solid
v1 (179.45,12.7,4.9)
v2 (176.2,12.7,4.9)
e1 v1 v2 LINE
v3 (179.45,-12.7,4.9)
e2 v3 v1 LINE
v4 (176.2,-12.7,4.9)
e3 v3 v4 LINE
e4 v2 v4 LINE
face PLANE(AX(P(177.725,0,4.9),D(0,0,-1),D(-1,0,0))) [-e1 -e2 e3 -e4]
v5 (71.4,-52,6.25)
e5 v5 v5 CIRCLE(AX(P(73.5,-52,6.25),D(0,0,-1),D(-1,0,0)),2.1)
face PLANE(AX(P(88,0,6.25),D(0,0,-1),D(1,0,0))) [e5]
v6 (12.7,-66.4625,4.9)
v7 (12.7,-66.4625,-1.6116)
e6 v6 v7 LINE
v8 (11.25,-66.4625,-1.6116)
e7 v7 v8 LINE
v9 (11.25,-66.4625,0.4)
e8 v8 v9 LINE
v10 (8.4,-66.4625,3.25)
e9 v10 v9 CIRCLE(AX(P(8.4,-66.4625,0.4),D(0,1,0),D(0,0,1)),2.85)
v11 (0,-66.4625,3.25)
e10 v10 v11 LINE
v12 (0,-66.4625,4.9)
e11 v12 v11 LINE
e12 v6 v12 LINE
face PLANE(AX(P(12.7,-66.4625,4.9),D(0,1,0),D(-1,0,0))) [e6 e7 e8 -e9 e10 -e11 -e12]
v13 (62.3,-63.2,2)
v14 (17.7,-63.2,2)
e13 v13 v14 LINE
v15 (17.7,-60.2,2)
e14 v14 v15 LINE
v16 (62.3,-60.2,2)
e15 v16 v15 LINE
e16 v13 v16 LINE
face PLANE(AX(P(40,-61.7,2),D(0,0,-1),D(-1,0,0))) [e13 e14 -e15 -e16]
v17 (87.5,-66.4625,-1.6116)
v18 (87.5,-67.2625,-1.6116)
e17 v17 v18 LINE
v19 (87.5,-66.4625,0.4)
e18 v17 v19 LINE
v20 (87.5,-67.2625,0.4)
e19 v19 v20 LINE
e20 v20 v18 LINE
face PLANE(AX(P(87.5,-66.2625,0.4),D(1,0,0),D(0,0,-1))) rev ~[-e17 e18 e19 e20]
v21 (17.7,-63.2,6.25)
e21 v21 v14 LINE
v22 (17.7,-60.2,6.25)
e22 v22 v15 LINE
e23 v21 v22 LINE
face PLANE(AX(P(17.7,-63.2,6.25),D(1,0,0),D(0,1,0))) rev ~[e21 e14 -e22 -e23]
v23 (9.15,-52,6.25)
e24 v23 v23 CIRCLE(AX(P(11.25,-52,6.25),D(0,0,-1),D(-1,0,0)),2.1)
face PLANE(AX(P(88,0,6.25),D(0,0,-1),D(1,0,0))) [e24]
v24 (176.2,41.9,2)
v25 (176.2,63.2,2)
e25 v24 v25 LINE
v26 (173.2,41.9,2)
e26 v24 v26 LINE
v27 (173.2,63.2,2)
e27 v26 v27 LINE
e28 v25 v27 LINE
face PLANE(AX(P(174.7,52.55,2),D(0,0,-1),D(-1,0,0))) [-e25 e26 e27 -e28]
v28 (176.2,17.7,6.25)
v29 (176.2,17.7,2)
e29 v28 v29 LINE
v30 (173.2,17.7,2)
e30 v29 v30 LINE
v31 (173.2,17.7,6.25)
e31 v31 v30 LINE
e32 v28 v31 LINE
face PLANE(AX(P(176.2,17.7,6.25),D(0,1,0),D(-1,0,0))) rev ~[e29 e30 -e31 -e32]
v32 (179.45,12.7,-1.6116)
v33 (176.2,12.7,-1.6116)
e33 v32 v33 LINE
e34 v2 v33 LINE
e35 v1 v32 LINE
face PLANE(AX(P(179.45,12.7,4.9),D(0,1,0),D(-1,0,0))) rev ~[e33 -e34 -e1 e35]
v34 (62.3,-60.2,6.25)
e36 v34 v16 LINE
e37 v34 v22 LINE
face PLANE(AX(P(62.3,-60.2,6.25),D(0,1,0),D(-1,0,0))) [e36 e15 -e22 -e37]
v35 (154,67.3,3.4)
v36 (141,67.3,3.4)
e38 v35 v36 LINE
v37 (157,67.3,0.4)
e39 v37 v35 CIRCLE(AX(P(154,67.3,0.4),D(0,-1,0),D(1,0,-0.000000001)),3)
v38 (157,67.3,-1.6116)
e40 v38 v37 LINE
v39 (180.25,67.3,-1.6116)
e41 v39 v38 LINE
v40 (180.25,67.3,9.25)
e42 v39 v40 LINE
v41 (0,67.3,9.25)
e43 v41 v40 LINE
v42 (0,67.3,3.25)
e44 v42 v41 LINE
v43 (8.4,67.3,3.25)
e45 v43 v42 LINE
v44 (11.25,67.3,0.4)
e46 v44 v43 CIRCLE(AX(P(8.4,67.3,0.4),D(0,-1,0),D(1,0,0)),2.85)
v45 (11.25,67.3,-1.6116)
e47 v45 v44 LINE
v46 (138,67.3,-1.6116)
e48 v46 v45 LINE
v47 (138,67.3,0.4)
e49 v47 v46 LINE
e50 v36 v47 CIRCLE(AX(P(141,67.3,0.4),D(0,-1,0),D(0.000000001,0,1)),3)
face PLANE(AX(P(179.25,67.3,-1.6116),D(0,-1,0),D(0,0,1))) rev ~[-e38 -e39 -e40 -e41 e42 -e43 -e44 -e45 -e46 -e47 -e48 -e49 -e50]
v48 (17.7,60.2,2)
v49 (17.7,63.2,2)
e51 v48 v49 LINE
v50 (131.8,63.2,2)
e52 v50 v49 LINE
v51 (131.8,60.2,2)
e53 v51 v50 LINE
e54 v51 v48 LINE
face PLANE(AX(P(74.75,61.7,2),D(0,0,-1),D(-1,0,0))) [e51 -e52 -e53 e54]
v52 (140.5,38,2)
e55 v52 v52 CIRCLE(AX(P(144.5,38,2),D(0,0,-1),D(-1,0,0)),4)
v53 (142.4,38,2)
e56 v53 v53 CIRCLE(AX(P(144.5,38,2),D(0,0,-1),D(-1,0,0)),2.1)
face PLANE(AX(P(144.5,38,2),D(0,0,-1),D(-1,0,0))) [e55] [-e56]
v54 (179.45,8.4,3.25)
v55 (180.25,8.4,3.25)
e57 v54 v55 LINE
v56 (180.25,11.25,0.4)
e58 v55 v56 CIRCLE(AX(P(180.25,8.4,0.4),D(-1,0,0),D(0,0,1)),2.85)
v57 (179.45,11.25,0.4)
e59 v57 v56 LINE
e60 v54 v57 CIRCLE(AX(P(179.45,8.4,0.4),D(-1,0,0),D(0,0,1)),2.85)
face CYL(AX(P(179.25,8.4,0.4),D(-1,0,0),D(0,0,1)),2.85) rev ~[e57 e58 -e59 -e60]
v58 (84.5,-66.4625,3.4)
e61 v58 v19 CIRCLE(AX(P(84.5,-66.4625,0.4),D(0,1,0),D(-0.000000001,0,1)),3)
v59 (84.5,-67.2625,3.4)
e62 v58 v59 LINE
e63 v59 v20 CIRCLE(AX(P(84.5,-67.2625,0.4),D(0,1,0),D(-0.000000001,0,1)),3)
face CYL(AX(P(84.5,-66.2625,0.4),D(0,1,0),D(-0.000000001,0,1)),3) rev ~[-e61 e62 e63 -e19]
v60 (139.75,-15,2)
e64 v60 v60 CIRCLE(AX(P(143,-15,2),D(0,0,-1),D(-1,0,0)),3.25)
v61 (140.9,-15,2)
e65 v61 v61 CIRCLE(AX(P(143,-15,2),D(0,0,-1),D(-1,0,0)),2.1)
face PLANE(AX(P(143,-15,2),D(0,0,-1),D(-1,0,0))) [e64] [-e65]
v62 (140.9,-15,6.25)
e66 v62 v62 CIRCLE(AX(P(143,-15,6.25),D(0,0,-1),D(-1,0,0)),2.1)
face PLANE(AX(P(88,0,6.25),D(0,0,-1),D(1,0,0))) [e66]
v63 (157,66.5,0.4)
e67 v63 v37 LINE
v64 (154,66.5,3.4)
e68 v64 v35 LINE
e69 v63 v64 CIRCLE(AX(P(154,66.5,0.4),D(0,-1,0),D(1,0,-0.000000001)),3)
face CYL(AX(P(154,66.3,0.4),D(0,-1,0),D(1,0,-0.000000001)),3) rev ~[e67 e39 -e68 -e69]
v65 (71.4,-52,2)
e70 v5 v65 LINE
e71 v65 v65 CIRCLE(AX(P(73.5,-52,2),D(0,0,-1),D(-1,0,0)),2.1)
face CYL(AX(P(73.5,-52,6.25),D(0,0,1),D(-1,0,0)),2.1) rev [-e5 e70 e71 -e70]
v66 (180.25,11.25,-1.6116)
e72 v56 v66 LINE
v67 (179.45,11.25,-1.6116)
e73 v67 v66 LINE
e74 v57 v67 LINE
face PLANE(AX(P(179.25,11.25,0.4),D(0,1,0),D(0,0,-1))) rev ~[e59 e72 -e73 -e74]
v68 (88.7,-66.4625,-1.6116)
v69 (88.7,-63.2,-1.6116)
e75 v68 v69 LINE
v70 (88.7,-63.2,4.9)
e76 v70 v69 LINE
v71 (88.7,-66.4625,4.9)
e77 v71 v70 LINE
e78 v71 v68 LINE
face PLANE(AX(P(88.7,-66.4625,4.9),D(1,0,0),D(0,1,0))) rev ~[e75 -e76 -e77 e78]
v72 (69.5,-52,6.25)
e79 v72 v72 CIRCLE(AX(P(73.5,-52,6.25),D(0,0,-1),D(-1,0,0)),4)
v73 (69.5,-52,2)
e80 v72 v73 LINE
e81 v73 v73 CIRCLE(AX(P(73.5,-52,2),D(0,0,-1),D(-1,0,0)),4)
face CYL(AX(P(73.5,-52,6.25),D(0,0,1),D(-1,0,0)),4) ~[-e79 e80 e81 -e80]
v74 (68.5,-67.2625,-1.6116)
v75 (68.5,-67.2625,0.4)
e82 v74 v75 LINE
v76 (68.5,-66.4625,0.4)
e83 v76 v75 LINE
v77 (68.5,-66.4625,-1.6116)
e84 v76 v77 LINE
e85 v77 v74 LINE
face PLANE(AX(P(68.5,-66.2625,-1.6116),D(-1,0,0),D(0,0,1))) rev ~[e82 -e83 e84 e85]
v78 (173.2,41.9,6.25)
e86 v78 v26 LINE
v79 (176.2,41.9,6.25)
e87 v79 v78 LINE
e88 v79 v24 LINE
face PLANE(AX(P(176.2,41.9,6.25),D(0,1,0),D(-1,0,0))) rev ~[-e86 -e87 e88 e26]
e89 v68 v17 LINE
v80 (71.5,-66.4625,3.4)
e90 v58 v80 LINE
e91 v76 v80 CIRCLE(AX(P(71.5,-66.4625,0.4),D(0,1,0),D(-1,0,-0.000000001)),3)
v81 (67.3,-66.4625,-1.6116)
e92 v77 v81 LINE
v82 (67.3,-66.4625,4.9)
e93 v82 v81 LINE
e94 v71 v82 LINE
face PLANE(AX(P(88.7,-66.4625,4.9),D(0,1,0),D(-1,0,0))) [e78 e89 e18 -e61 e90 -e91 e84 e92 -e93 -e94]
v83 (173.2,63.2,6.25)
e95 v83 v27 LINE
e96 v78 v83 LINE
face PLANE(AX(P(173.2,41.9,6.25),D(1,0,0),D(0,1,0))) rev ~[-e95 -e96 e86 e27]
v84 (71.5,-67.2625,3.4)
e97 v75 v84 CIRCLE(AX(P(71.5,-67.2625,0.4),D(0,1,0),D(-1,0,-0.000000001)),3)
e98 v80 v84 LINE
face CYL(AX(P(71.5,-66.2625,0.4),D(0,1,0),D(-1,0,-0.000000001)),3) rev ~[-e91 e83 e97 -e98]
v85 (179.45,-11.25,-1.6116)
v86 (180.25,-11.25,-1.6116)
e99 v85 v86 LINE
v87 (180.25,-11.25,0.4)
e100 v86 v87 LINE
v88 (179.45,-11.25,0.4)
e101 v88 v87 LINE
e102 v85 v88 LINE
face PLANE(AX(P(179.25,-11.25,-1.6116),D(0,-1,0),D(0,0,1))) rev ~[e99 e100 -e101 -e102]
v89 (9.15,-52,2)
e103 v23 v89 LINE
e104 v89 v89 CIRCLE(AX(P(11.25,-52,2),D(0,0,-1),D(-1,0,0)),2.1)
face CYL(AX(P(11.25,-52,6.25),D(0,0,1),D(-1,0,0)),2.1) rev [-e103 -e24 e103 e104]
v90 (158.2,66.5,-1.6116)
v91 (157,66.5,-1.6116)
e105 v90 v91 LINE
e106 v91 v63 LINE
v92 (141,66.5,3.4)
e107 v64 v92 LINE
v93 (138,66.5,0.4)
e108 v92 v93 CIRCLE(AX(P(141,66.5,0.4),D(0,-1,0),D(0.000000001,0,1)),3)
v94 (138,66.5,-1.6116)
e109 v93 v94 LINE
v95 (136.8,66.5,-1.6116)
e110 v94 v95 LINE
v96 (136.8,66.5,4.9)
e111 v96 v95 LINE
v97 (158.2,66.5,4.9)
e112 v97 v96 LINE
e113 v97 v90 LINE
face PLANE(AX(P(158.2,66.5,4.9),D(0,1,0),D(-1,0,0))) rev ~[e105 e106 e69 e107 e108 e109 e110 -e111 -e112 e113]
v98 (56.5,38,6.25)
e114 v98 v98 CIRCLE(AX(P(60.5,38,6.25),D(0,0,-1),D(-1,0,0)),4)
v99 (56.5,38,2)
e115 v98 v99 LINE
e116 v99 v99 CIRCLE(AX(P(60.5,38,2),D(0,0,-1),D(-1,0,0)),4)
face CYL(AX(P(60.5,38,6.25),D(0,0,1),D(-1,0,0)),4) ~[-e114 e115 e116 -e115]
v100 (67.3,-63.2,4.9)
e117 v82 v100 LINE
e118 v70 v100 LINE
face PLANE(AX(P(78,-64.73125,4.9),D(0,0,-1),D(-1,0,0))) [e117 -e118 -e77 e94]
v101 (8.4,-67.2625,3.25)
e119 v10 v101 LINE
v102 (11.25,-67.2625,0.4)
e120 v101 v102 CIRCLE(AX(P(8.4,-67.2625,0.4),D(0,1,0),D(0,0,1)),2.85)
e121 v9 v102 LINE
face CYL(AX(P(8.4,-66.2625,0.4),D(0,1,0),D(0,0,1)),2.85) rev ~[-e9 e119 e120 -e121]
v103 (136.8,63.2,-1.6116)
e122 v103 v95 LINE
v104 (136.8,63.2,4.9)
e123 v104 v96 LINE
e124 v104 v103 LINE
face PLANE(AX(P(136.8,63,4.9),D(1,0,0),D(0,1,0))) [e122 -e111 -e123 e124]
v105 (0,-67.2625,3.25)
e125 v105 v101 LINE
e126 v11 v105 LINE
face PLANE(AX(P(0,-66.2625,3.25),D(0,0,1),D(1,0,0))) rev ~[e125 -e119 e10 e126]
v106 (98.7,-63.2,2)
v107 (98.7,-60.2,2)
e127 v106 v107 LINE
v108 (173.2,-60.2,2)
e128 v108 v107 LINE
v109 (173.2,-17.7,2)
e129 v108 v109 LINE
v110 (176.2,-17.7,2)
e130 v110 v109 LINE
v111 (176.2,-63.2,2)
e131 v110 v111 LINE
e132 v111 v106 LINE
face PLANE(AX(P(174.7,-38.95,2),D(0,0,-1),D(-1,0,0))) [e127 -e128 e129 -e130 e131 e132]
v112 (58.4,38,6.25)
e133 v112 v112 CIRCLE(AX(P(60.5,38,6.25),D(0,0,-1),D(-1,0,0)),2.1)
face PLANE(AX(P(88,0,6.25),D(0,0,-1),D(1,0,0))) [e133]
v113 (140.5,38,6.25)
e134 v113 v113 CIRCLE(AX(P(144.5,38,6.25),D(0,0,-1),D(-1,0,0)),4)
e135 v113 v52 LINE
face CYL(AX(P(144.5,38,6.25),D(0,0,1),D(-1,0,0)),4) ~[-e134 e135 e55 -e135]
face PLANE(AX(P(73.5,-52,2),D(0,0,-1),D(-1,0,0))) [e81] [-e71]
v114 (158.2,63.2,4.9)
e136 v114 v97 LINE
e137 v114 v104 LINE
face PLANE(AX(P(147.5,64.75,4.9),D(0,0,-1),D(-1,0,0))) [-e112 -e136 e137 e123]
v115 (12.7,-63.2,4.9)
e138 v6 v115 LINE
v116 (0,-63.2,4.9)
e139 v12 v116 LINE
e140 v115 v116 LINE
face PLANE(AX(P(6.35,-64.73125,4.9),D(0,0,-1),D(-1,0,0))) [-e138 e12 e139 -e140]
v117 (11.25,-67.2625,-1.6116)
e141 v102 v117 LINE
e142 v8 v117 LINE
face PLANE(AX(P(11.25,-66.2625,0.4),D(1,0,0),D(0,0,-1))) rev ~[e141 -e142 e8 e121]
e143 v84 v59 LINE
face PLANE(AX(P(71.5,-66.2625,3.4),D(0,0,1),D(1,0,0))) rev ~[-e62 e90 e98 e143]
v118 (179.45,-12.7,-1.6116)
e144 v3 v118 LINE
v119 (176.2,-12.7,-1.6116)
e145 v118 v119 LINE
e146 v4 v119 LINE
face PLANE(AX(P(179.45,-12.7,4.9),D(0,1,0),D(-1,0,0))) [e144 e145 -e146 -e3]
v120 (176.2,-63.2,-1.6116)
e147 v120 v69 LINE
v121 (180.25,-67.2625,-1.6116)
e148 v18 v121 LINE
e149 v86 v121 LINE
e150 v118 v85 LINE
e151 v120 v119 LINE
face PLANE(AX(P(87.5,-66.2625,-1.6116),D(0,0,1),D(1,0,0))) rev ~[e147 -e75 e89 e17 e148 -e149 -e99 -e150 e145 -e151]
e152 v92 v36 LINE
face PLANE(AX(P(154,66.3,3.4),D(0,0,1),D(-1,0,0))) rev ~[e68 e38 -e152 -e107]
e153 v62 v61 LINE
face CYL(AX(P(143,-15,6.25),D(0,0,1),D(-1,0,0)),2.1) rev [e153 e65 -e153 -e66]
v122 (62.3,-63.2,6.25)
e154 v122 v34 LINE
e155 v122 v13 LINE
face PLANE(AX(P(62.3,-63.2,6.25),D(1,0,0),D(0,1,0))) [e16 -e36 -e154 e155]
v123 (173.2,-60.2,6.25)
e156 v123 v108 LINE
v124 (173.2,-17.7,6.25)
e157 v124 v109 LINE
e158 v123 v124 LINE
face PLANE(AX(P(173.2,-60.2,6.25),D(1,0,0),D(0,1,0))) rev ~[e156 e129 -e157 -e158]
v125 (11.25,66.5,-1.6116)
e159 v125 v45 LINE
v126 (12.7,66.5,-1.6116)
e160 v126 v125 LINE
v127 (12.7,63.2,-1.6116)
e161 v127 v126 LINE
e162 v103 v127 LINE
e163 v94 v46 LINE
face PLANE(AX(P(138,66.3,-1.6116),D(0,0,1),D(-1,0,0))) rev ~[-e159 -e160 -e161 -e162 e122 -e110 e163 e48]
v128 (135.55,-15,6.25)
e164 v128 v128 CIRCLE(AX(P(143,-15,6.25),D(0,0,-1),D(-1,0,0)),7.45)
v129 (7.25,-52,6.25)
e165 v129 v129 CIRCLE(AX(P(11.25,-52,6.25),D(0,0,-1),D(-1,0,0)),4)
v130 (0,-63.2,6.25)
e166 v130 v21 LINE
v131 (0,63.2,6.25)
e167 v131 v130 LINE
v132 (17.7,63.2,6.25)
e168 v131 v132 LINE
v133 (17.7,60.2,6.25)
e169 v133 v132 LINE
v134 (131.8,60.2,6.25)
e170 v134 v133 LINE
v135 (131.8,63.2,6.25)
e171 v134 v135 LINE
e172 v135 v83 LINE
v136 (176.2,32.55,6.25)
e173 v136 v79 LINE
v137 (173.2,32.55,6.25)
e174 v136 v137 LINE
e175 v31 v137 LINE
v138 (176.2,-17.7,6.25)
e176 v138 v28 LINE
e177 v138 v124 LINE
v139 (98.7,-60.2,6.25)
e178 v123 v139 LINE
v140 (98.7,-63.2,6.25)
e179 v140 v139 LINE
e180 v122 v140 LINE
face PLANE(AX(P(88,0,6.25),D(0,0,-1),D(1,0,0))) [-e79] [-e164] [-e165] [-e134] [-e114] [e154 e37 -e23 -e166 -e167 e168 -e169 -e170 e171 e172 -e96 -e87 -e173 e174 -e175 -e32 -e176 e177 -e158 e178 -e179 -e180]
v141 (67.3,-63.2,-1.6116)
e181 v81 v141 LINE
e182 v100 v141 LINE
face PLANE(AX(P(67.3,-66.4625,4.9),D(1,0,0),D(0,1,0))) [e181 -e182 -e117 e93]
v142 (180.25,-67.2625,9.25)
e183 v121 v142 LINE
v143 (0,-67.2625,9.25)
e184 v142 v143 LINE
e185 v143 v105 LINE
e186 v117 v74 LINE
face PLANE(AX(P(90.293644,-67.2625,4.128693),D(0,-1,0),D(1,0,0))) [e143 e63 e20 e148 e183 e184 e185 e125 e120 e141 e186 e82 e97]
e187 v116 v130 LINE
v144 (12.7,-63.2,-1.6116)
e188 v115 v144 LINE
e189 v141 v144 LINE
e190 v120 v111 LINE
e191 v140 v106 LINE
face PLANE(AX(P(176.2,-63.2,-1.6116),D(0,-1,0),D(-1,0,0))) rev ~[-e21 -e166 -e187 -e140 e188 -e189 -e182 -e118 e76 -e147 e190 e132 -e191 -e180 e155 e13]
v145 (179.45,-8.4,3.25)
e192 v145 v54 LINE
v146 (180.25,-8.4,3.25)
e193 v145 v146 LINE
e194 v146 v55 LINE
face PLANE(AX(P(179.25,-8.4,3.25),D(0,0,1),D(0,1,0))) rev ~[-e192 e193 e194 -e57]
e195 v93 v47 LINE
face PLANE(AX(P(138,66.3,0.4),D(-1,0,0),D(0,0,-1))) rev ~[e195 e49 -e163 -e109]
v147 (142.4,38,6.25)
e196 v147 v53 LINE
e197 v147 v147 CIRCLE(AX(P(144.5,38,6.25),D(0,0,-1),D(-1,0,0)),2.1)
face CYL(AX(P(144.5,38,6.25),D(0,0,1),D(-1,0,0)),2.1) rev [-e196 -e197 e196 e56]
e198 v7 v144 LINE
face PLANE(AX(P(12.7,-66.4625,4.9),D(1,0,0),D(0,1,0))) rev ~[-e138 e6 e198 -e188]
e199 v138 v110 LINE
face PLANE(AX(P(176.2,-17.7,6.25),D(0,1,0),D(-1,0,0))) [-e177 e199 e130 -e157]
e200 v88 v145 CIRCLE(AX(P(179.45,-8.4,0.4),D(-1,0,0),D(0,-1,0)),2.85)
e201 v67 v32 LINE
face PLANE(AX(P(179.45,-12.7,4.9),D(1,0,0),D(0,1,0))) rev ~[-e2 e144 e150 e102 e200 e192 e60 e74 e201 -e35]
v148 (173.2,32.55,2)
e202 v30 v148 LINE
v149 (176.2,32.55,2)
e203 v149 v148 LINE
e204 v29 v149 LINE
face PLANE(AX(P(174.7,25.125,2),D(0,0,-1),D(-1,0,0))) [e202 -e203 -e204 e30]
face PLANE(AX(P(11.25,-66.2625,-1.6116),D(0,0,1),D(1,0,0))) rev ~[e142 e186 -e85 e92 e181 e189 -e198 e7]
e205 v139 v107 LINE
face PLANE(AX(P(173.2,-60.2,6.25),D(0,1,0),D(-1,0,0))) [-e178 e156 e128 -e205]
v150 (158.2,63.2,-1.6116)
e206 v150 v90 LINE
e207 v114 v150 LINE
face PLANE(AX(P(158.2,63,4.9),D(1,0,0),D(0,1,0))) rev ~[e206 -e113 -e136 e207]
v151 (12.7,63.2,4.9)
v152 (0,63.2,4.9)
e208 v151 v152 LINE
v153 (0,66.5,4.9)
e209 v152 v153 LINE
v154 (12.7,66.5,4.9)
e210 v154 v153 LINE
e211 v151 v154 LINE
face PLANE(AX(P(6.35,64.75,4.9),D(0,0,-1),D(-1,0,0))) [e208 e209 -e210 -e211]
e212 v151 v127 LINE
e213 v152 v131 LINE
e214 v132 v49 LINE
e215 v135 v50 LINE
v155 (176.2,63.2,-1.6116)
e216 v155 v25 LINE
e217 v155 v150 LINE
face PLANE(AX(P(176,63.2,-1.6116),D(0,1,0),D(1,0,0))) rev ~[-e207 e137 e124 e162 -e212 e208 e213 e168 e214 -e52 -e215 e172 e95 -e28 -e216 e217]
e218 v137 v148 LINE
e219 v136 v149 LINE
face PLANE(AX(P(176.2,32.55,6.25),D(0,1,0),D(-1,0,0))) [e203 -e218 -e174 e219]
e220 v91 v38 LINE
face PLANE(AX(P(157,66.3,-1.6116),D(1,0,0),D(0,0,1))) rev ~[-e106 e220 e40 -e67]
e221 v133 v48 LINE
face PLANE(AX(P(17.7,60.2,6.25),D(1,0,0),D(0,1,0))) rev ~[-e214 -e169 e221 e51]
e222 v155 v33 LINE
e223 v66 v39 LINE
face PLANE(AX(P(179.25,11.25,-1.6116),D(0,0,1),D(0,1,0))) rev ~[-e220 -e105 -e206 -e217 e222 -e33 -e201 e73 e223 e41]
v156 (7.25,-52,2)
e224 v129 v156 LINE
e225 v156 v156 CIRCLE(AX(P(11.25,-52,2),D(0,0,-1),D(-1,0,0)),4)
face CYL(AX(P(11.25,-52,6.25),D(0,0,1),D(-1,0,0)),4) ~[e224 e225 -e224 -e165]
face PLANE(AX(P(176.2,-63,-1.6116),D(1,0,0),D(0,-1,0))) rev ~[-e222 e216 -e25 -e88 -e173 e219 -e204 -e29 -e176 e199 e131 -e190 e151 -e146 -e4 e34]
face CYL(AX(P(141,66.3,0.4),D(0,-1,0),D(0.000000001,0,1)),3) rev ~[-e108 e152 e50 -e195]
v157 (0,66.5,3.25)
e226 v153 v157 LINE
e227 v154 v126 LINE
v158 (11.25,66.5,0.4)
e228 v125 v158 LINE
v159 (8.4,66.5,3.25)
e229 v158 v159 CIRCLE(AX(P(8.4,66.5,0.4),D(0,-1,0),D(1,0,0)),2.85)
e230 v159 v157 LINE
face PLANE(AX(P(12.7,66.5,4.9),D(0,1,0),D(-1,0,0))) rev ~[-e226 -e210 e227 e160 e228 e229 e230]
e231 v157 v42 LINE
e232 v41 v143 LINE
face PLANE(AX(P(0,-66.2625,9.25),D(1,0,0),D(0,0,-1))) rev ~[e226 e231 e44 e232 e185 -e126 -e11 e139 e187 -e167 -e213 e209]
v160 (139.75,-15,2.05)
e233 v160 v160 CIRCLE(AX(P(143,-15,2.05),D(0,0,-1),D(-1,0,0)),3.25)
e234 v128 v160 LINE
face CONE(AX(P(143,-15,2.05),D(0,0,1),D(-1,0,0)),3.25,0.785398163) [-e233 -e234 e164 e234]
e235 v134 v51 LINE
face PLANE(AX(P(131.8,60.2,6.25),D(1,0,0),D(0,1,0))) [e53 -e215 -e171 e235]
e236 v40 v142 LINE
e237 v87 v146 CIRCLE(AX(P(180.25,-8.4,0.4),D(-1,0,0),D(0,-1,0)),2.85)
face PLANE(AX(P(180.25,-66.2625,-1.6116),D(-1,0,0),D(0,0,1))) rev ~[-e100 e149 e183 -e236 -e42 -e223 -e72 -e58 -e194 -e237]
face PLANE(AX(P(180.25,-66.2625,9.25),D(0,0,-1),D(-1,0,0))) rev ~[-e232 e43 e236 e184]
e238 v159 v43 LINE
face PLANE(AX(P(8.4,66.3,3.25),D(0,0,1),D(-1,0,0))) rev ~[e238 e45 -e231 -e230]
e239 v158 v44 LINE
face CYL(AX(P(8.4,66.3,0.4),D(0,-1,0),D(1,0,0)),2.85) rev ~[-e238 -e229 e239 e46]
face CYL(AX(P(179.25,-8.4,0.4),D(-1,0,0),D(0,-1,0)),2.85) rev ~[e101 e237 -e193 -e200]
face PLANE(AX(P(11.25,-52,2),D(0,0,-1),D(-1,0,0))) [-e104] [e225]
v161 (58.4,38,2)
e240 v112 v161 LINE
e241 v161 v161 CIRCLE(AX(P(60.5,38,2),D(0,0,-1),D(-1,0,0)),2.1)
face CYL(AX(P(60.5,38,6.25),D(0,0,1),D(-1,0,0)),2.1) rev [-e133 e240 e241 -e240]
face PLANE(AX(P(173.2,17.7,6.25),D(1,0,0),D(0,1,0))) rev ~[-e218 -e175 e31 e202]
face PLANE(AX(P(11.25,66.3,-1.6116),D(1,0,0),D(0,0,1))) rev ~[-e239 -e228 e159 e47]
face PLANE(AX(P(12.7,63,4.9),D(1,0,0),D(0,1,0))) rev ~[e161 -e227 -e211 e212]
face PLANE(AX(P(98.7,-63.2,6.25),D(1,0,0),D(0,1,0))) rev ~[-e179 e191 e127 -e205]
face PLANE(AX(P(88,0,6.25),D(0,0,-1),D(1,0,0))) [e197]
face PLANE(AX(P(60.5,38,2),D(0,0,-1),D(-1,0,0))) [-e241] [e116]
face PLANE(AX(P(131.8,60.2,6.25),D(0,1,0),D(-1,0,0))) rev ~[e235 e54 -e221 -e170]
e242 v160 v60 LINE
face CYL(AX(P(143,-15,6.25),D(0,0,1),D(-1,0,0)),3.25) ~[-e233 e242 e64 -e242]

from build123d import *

# Parameters (mm, degrees)
BOSS_EXTRUDE1_START  = 3.25
SKETCH1_W            = 176
SKETCH1_H            = 126
BOSS_EXTRUDE1_DEPTH  = 6
CUT_EXTRUDE1_START   = 3.25
SKETCH1_2_W          = 176
SKETCH1_2_H          = 126
CUT_EXTRUDE1_DEPTH   = 3
BOSS_EXTRUDE2_DEPTH  = 2.6
BOSS_EXTRUDE3_DEPTH  = 0.7
BOSS_EXTRUDE4_START  = 3.3
BOSS_EXTRUDE4_DEPTH  = 1
BOSS_EXTRUDE5_DEPTH  = 2.55
BOSS_EXTRUDE6_DEPTH  = 0.7
BOSS_EXTRUDE7_START  = 3.25
BOSS_EXTRUDE7_DEPTH  = 1
BOSS_EXTRUDE8_START  = 2.5625
BOSS_EXTRUDE8_DEPTH  = 2.5625
BOSS_EXTRUDE9_START  = 0.7
BOSS_EXTRUDE9_DEPTH  = 0.7
BOSS_EXTRUDE10_START = 3.2625
BOSS_EXTRUDE10_DEPTH = 1
CUT_EXTRUDE2_START   = -6.5116
SKETCH8_W            = 21.4
SKETCH8_H            = 3.5
SKETCH8_W_2          = 12.7
SKETCH8_W_3          = 3.45
SKETCH8_H_2          = 25.4
SKETCH8_H_3          = 3.4625
CUT_EXTRUDE2_DEPTH   = 6.5116
CUT_EXTRUDE3_REACH   = 194.71
SKETCH9_W            = 176
SKETCH9_H            = 0.2
SKETCH10_R           = 4
SKETCH10_R_2         = 2.1
SKETCH10_R_3         = 3.25
BOSS_EXTRUDE11_DEPTH = 4.25
SKETCH11_W           = 114.1
SKETCH11_H           = 3
SKETCH11_W_2         = 3
SKETCH11_H_2         = 21.3
SKETCH11_H_3         = 14.85
SKETCH11_H_4         = 42.5
SKETCH11_W_3         = 74.5
SKETCH11_W_4         = 44.6
BOSS_EXTRUDE12_DEPTH = 4.25
CHAMFER1_SIZE        = 4.2


with BuildPart() as part:
    # Sketch1 → Boss-Extrude1 (new body)
    with BuildSketch(Plane.XY.offset(BOSS_EXTRUDE1_START)):
        with Locations((88, 0)):
            Rectangle(SKETCH1_W, SKETCH1_H)
    extrude(amount=BOSS_EXTRUDE1_DEPTH)

    # Sketch1<2> → Cut-Extrude1 (cut)
    with BuildSketch(Plane.XY.offset(CUT_EXTRUDE1_START)):
        with Locations((88, 0)):
            Rectangle(SKETCH1_2_W, SKETCH1_2_H)
    extrude(amount=CUT_EXTRUDE1_DEPTH, mode=Mode.SUBTRACT)

    # Sketch2 → Boss-Extrude2 (add)
    with BuildSketch(Plane(origin=(0, 63, 0), x_dir=(1, 0, 0), z_dir=(0, 1, 0))):
        with BuildLine():
            Line((0, -3.25), (0, -9.25))
            Line((0, -9.25), (176, -9.25))
            Line((176, -9.25), (176, 1.6116))
            Line((176, 1.6116), (157, 1.6116))
            Line((157, 1.6116), (157, -0.4))
            ThreePointArc((157, -0.4), (156.121320344, -2.521320344), (154, -3.4))
            Line((154, -3.4), (141, -3.4))
            ThreePointArc((141, -3.4), (138.878679656, -2.521320344), (138, -0.4))
            Line((138, -0.4), (138, 1.6116))
            Line((138, 1.6116), (11.25, 1.6116))
            Line((11.25, 1.6116), (11.25, -0.4))
            ThreePointArc((11.25, -0.4), (10.415254326, -2.415254326), (8.4, -3.25))
            Line((8.4, -3.25), (0, -3.25))
        make_face()
    extrude(amount=BOSS_EXTRUDE2_DEPTH)

    # Sketch3 → Boss-Extrude3 (add)
    with BuildSketch(Plane(origin=(0, 65.6, 0), x_dir=(1, 0, 0), z_dir=(0, 1, 0))):
        with BuildLine():
            Line((0, -4.4), (0, -9.25))
            Line((0, -9.25), (176, -9.25))
            Line((176, -9.25), (176, 1.6116))
            Line((176, 1.6116), (157.457378406, 1.6116))
            ThreePointArc((157.457378406, 1.6116), (157.46744863, -2.394191566), (154, -4.4))
            Line((154, -4.4), (141, -4.4))
            ThreePointArc((141, -4.4), (137.53255137, -2.394191566), (137.542621594, 1.6116))
            Line((137.542621594, 1.6116), (11.957378406, 1.6116))
            ThreePointArc((11.957378406, 1.6116), (11.96744863, -2.394191566), (8.5, -4.4))
            Line((8.5, -4.4), (0, -4.4))
        make_face()
    extrude(amount=BOSS_EXTRUDE3_DEPTH)

    # Sketch2<3> → Boss-Extrude4 (add)
    with BuildSketch(Plane(origin=(0, 63, 0), x_dir=(1, 0, 0), z_dir=(0, 1, 0)).offset(BOSS_EXTRUDE4_START)):
        with BuildLine():
            Line((0, -3.25), (0, -9.25))
            Line((0, -9.25), (176, -9.25))
            Line((176, -9.25), (176, 1.6116))
            Line((176, 1.6116), (157, 1.6116))
            Line((157, 1.6116), (157, -0.4))
            ThreePointArc((157, -0.4), (156.121320344, -2.521320344), (154, -3.4))
            Line((154, -3.4), (141, -3.4))
            ThreePointArc((141, -3.4), (138.878679656, -2.521320344), (138, -0.4))
            Line((138, -0.4), (138, 1.6116))
            Line((138, 1.6116), (11.25, 1.6116))
            Line((11.25, 1.6116), (11.25, -0.4))
            ThreePointArc((11.25, -0.4), (10.415254326, -2.415254326), (8.4, -3.25))
            Line((8.4, -3.25), (0, -3.25))
        make_face()
    extrude(amount=BOSS_EXTRUDE4_DEPTH)

    # Sketch4 → Boss-Extrude5 (add)
    with BuildSketch(Plane(origin=(176, 0, 0), x_dir=(0, 0, -1), z_dir=(1, 0, 0))):
        with BuildLine():
            Line((1.6116, 67.3), (-9.25, 67.3))
            Line((-9.25, 67.3), (-9.25, -63))
            Line((-9.25, -63), (1.6116, -63))
            Line((1.6116, -63), (1.6116, -11.25))
            Line((1.6116, -11.25), (-0.4, -11.25))
            ThreePointArc((-0.4, -11.25), (-2.415254326, -10.415254326), (-3.25, -8.4))
            Line((-3.25, -8.4), (-3.25, 8.4))
            ThreePointArc((-3.25, 8.4), (-2.415254326, 10.415254326), (-0.4, 11.25))
            Line((-0.4, 11.25), (1.6116, 11.25))
            Line((1.6116, 11.25), (1.6116, 67.3))
        make_face()
    extrude(amount=BOSS_EXTRUDE5_DEPTH)

    # Sketch5 → Boss-Extrude6 (add)
    with BuildSketch(Plane(origin=(178.55, 0, 0), x_dir=(0, 0, -1), z_dir=(1, 0, 0))):
        with BuildLine():
            Line((1.6116, 11.957378406), (1.6116, 67.3))
            Line((1.6116, 67.3), (-9.25, 67.3))
            Line((-9.25, 67.3), (-9.25, -63))
            Line((-9.25, -63), (1.6116, -63))
            Line((1.6116, -63), (1.6116, -11.957378406))
            ThreePointArc((1.6116, -11.957378406), (-2.394191566, -11.96744863), (-4.4, -8.5))
            Line((-4.4, -8.5), (-4.4, 8.5))
            ThreePointArc((-4.4, 8.5), (-2.394191566, 11.96744863), (1.6116, 11.957378406))
        make_face()
    extrude(amount=BOSS_EXTRUDE6_DEPTH)

    # Sketch4<3> → Boss-Extrude7 (add)
    with BuildSketch(Plane(origin=(176, 0, 0), x_dir=(0, 0, -1), z_dir=(1, 0, 0)).offset(BOSS_EXTRUDE7_START)):
        with BuildLine():
            Line((1.6116, 67.3), (-9.25, 67.3))
            Line((-9.25, 67.3), (-9.25, -63))
            Line((-9.25, -63), (1.6116, -63))
            Line((1.6116, -63), (1.6116, -11.25))
            Line((1.6116, -11.25), (-0.4, -11.25))
            ThreePointArc((-0.4, -11.25), (-2.415254326, -10.415254326), (-3.25, -8.4))
            Line((-3.25, -8.4), (-3.25, 8.4))
            ThreePointArc((-3.25, 8.4), (-2.415254326, 10.415254326), (-0.4, 11.25))
            Line((-0.4, 11.25), (1.6116, 11.25))
            Line((1.6116, 11.25), (1.6116, 67.3))
        make_face()
    extrude(amount=BOSS_EXTRUDE7_DEPTH)

    # Sketch6 → Boss-Extrude8 (add)
    with BuildSketch(Plane.XZ.offset(63).offset(BOSS_EXTRUDE8_START)):
        with BuildLine():
            Line((87.5, -1.6116), (180.25, -1.6116))
            Line((180.25, -1.6116), (180.25, 9.25))
            Line((180.25, 9.25), (0, 9.25))
            Line((0, 9.25), (0, 3.25))
            Line((0, 3.25), (8.4, 3.25))
            ThreePointArc((8.4, 3.25), (10.415254326, 2.415254326), (11.25, 0.4))
            Line((11.25, 0.4), (11.25, -1.6116))
            Line((11.25, -1.6116), (68.5, -1.6116))
            Line((68.5, -1.6116), (68.5, 0.4))
            ThreePointArc((68.5, 0.4), (69.378679656, 2.521320344), (71.5, 3.4))
            Line((71.5, 3.4), (84.5, 3.4))
            ThreePointArc((84.5, 3.4), (86.621320344, 2.521320344), (87.5, 0.4))
            Line((87.5, 0.4), (87.5, -1.6116))
        make_face()
    extrude(amount=-BOSS_EXTRUDE8_DEPTH)

    # Sketch7 → Boss-Extrude9 (add)
    with BuildSketch(Plane.XZ.offset(65.5625).offset(BOSS_EXTRUDE9_START)):
        with BuildLine():
            Line((87.957378406, -1.6116), (180.25, -1.6116))
            Line((180.25, -1.6116), (180.25, 9.25))
            Line((180.25, 9.25), (0, 9.25))
            Line((0, 9.25), (0, 4.4))
            Line((0, 4.4), (8.5, 4.4))
            ThreePointArc((8.5, 4.4), (11.96744863, 2.394191566), (11.957378406, -1.6116))
            Line((11.957378406, -1.6116), (68.042621594, -1.6116))
            ThreePointArc((68.042621594, -1.6116), (68.03255137, 2.394191566), (71.5, 4.4))
            Line((71.5, 4.4), (84.5, 4.4))
            ThreePointArc((84.5, 4.4), (87.96744863, 2.394191566), (87.957378406, -1.6116))
        make_face()
    extrude(amount=-BOSS_EXTRUDE9_DEPTH)

    # Sketch6<4> → Boss-Extrude10 (add)
    with BuildSketch(Plane.XZ.offset(63).offset(BOSS_EXTRUDE10_START)):
        with BuildLine():
            Line((87.5, -1.6116), (180.25, -1.6116))
            Line((180.25, -1.6116), (180.25, 9.25))
            Line((180.25, 9.25), (0, 9.25))
            Line((0, 9.25), (0, 3.25))
            Line((0, 3.25), (8.4, 3.25))
            ThreePointArc((8.4, 3.25), (10.415254326, 2.415254326), (11.25, 0.4))
            Line((11.25, 0.4), (11.25, -1.6116))
            Line((11.25, -1.6116), (68.5, -1.6116))
            Line((68.5, -1.6116), (68.5, 0.4))
            ThreePointArc((68.5, 0.4), (69.378679656, 2.521320344), (71.5, 3.4))
            Line((71.5, 3.4), (84.5, 3.4))
            ThreePointArc((84.5, 3.4), (86.621320344, 2.521320344), (87.5, 0.4))
            Line((87.5, 0.4), (87.5, -1.6116))
        make_face()
    extrude(amount=BOSS_EXTRUDE10_DEPTH)

    # Sketch8 → Cut-Extrude2 (cut)
    with BuildSketch(Plane(origin=(0, 0, -1.6116), x_dir=(-1, 0, 0), z_dir=(0, 0, -1)).offset(CUT_EXTRUDE2_START)):
        with Locations((-147.5, 64.75)):
            Rectangle(SKETCH8_W, SKETCH8_H)
        with Locations((-6.35, 64.75)):
            Rectangle(SKETCH8_W_2, SKETCH8_H)
        with Locations((-177.725, 0)):
            Rectangle(SKETCH8_W_3, SKETCH8_H_2)
        with Locations((-78, -64.73125)):
            Rectangle(SKETCH8_W, SKETCH8_H_3)
        with Locations((-6.35, -64.73125)):
            Rectangle(SKETCH8_W_2, SKETCH8_H_3)
    extrude(amount=CUT_EXTRUDE2_DEPTH, mode=Mode.SUBTRACT)

    # Cut-Extrude3: up to this face of the body (flat: up to its plane)
    cut_extrude3_end = Plane(part.part.faces().sort_by_distance((88, 0, 6.25))[0])
    # Sketch9 → Cut-Extrude3 (cut, up to the picked face)
    with BuildSketch(Plane(origin=(0, 0, -1.6116), x_dir=(-1, 0, 0), z_dir=(0, 0, -1)), mode=Mode.PRIVATE) as cut_extrude3_sk1:
        with Locations((-88, 63.1)):
            Rectangle(SKETCH9_W, SKETCH9_H)
    cut_extrude3_tool1 = split(extrude(cut_extrude3_sk1.sketch, amount=-CUT_EXTRUDE3_REACH, mode=Mode.PRIVATE), bisect_by=cut_extrude3_end, keep=Keep.BOTH, mode=Mode.PRIVATE)
    # Sketch9 → Cut-Extrude3 (cut, up to the picked face)
    with BuildSketch(Plane(origin=(0, 0, -1.6116), x_dir=(-1, 0, 0), z_dir=(0, 0, -1)), mode=Mode.PRIVATE) as cut_extrude3_sk2:
        Polygon((-176, -63), (-176, 63), (-176, 63.2), (-176.2, 63.2), (-176.2, -63), align=None)
    cut_extrude3_tool2 = split(extrude(cut_extrude3_sk2.sketch, amount=-CUT_EXTRUDE3_REACH, mode=Mode.PRIVATE), bisect_by=cut_extrude3_end, keep=Keep.BOTH, mode=Mode.PRIVATE)
    # Sketch9 → Cut-Extrude3 (cut, up to the picked face)
    with BuildSketch(Plane(origin=(0, 0, -1.6116), x_dir=(-1, 0, 0), z_dir=(0, 0, -1)), mode=Mode.PRIVATE) as cut_extrude3_sk3:
        Polygon((0, -63), (-176, -63), (-176.2, -63), (-176.2, -63.2), (0, -63.2), align=None)
    cut_extrude3_tool3 = split(extrude(cut_extrude3_sk3.sketch, amount=-CUT_EXTRUDE3_REACH, mode=Mode.PRIVATE), bisect_by=cut_extrude3_end, keep=Keep.BOTH, mode=Mode.PRIVATE)
    add(cut_extrude3_tool1.solids().sort_by(Axis((88, 63.1, -1.6116), (0, 0, 1)))[0], mode=Mode.SUBTRACT)
    add(cut_extrude3_tool2.solids().sort_by(Axis((176.1, 0.1, -1.6116), (0, 0, 1)))[0], mode=Mode.SUBTRACT)
    add(cut_extrude3_tool3.solids().sort_by(Axis((88.1, -63.1, -1.6116), (0, 0, 1)))[0], mode=Mode.SUBTRACT)

    # Sketch10 → Boss-Extrude11 (add)
    # profile 1 of 5: a face of its own
    with BuildSketch(Plane(origin=(0, 0, 6.25), x_dir=(-1, 0, 0), z_dir=(0, 0, -1))):
        with Locations((-144.5, 38)):
            Circle(SKETCH10_R)
        with Locations((-144.5, 38)):
            Circle(SKETCH10_R_2, mode=Mode.SUBTRACT)
    # profile 2 of 5: a face of its own
    with BuildSketch(Plane(origin=(0, 0, 6.25), x_dir=(-1, 0, 0), z_dir=(0, 0, -1))):
        with Locations((-60.5, 38)):
            Circle(SKETCH10_R)
        with Locations((-60.5, 38)):
            Circle(SKETCH10_R_2, mode=Mode.SUBTRACT)
    # profile 3 of 5: a face of its own
    with BuildSketch(Plane(origin=(0, 0, 6.25), x_dir=(-1, 0, 0), z_dir=(0, 0, -1))):
        with Locations((-73.5, -52)):
            Circle(SKETCH10_R)
        with Locations((-73.5, -52)):
            Circle(SKETCH10_R_2, mode=Mode.SUBTRACT)
    # profile 4 of 5: a face of its own
    with BuildSketch(Plane(origin=(0, 0, 6.25), x_dir=(-1, 0, 0), z_dir=(0, 0, -1))):
        with Locations((-11.25, -52)):
            Circle(SKETCH10_R)
        with Locations((-11.25, -52)):
            Circle(SKETCH10_R_2, mode=Mode.SUBTRACT)
    # profile 5 of 5: a face of its own
    with BuildSketch(Plane(origin=(0, 0, 6.25), x_dir=(-1, 0, 0), z_dir=(0, 0, -1))):
        with Locations((-143, -15)):
            Circle(SKETCH10_R_3)
        with Locations((-143, -15)):
            Circle(SKETCH10_R_2, mode=Mode.SUBTRACT)
    extrude(amount=BOSS_EXTRUDE11_DEPTH)

    # Sketch11 → Boss-Extrude12 (add)
    with BuildSketch(Plane(origin=(0, 0, 6.25), x_dir=(-1, 0, 0), z_dir=(0, 0, -1))):
        with Locations((-74.75, 61.7)):
            Rectangle(SKETCH11_W, SKETCH11_H)
        with Locations((-174.7, 52.55)):
            Rectangle(SKETCH11_W_2, SKETCH11_H_2)
        with Locations((-174.7, 25.125)):
            Rectangle(SKETCH11_W_2, SKETCH11_H_3)
        with Locations((-174.7, -38.95)):
            Rectangle(SKETCH11_W_2, SKETCH11_H_4)
        with Locations((-135.95, -61.7)):
            Rectangle(SKETCH11_W_3, SKETCH11_H)
        with Locations((-174.7, -61.7)):
            Rectangle(SKETCH11_W_2, SKETCH11_H)
        with Locations((-40, -61.7)):
            Rectangle(SKETCH11_W_4, SKETCH11_H)
    extrude(amount=BOSS_EXTRUDE12_DEPTH)

    # Chamfer1
    chamfer1_edges = [part.edges().sort_by_distance(p)[0] for p in [
        (146.25, -15, 6.25),
    ]]
    chamfer(chamfer1_edges, length=CHAMFER1_SIZE)


solid = part.part
